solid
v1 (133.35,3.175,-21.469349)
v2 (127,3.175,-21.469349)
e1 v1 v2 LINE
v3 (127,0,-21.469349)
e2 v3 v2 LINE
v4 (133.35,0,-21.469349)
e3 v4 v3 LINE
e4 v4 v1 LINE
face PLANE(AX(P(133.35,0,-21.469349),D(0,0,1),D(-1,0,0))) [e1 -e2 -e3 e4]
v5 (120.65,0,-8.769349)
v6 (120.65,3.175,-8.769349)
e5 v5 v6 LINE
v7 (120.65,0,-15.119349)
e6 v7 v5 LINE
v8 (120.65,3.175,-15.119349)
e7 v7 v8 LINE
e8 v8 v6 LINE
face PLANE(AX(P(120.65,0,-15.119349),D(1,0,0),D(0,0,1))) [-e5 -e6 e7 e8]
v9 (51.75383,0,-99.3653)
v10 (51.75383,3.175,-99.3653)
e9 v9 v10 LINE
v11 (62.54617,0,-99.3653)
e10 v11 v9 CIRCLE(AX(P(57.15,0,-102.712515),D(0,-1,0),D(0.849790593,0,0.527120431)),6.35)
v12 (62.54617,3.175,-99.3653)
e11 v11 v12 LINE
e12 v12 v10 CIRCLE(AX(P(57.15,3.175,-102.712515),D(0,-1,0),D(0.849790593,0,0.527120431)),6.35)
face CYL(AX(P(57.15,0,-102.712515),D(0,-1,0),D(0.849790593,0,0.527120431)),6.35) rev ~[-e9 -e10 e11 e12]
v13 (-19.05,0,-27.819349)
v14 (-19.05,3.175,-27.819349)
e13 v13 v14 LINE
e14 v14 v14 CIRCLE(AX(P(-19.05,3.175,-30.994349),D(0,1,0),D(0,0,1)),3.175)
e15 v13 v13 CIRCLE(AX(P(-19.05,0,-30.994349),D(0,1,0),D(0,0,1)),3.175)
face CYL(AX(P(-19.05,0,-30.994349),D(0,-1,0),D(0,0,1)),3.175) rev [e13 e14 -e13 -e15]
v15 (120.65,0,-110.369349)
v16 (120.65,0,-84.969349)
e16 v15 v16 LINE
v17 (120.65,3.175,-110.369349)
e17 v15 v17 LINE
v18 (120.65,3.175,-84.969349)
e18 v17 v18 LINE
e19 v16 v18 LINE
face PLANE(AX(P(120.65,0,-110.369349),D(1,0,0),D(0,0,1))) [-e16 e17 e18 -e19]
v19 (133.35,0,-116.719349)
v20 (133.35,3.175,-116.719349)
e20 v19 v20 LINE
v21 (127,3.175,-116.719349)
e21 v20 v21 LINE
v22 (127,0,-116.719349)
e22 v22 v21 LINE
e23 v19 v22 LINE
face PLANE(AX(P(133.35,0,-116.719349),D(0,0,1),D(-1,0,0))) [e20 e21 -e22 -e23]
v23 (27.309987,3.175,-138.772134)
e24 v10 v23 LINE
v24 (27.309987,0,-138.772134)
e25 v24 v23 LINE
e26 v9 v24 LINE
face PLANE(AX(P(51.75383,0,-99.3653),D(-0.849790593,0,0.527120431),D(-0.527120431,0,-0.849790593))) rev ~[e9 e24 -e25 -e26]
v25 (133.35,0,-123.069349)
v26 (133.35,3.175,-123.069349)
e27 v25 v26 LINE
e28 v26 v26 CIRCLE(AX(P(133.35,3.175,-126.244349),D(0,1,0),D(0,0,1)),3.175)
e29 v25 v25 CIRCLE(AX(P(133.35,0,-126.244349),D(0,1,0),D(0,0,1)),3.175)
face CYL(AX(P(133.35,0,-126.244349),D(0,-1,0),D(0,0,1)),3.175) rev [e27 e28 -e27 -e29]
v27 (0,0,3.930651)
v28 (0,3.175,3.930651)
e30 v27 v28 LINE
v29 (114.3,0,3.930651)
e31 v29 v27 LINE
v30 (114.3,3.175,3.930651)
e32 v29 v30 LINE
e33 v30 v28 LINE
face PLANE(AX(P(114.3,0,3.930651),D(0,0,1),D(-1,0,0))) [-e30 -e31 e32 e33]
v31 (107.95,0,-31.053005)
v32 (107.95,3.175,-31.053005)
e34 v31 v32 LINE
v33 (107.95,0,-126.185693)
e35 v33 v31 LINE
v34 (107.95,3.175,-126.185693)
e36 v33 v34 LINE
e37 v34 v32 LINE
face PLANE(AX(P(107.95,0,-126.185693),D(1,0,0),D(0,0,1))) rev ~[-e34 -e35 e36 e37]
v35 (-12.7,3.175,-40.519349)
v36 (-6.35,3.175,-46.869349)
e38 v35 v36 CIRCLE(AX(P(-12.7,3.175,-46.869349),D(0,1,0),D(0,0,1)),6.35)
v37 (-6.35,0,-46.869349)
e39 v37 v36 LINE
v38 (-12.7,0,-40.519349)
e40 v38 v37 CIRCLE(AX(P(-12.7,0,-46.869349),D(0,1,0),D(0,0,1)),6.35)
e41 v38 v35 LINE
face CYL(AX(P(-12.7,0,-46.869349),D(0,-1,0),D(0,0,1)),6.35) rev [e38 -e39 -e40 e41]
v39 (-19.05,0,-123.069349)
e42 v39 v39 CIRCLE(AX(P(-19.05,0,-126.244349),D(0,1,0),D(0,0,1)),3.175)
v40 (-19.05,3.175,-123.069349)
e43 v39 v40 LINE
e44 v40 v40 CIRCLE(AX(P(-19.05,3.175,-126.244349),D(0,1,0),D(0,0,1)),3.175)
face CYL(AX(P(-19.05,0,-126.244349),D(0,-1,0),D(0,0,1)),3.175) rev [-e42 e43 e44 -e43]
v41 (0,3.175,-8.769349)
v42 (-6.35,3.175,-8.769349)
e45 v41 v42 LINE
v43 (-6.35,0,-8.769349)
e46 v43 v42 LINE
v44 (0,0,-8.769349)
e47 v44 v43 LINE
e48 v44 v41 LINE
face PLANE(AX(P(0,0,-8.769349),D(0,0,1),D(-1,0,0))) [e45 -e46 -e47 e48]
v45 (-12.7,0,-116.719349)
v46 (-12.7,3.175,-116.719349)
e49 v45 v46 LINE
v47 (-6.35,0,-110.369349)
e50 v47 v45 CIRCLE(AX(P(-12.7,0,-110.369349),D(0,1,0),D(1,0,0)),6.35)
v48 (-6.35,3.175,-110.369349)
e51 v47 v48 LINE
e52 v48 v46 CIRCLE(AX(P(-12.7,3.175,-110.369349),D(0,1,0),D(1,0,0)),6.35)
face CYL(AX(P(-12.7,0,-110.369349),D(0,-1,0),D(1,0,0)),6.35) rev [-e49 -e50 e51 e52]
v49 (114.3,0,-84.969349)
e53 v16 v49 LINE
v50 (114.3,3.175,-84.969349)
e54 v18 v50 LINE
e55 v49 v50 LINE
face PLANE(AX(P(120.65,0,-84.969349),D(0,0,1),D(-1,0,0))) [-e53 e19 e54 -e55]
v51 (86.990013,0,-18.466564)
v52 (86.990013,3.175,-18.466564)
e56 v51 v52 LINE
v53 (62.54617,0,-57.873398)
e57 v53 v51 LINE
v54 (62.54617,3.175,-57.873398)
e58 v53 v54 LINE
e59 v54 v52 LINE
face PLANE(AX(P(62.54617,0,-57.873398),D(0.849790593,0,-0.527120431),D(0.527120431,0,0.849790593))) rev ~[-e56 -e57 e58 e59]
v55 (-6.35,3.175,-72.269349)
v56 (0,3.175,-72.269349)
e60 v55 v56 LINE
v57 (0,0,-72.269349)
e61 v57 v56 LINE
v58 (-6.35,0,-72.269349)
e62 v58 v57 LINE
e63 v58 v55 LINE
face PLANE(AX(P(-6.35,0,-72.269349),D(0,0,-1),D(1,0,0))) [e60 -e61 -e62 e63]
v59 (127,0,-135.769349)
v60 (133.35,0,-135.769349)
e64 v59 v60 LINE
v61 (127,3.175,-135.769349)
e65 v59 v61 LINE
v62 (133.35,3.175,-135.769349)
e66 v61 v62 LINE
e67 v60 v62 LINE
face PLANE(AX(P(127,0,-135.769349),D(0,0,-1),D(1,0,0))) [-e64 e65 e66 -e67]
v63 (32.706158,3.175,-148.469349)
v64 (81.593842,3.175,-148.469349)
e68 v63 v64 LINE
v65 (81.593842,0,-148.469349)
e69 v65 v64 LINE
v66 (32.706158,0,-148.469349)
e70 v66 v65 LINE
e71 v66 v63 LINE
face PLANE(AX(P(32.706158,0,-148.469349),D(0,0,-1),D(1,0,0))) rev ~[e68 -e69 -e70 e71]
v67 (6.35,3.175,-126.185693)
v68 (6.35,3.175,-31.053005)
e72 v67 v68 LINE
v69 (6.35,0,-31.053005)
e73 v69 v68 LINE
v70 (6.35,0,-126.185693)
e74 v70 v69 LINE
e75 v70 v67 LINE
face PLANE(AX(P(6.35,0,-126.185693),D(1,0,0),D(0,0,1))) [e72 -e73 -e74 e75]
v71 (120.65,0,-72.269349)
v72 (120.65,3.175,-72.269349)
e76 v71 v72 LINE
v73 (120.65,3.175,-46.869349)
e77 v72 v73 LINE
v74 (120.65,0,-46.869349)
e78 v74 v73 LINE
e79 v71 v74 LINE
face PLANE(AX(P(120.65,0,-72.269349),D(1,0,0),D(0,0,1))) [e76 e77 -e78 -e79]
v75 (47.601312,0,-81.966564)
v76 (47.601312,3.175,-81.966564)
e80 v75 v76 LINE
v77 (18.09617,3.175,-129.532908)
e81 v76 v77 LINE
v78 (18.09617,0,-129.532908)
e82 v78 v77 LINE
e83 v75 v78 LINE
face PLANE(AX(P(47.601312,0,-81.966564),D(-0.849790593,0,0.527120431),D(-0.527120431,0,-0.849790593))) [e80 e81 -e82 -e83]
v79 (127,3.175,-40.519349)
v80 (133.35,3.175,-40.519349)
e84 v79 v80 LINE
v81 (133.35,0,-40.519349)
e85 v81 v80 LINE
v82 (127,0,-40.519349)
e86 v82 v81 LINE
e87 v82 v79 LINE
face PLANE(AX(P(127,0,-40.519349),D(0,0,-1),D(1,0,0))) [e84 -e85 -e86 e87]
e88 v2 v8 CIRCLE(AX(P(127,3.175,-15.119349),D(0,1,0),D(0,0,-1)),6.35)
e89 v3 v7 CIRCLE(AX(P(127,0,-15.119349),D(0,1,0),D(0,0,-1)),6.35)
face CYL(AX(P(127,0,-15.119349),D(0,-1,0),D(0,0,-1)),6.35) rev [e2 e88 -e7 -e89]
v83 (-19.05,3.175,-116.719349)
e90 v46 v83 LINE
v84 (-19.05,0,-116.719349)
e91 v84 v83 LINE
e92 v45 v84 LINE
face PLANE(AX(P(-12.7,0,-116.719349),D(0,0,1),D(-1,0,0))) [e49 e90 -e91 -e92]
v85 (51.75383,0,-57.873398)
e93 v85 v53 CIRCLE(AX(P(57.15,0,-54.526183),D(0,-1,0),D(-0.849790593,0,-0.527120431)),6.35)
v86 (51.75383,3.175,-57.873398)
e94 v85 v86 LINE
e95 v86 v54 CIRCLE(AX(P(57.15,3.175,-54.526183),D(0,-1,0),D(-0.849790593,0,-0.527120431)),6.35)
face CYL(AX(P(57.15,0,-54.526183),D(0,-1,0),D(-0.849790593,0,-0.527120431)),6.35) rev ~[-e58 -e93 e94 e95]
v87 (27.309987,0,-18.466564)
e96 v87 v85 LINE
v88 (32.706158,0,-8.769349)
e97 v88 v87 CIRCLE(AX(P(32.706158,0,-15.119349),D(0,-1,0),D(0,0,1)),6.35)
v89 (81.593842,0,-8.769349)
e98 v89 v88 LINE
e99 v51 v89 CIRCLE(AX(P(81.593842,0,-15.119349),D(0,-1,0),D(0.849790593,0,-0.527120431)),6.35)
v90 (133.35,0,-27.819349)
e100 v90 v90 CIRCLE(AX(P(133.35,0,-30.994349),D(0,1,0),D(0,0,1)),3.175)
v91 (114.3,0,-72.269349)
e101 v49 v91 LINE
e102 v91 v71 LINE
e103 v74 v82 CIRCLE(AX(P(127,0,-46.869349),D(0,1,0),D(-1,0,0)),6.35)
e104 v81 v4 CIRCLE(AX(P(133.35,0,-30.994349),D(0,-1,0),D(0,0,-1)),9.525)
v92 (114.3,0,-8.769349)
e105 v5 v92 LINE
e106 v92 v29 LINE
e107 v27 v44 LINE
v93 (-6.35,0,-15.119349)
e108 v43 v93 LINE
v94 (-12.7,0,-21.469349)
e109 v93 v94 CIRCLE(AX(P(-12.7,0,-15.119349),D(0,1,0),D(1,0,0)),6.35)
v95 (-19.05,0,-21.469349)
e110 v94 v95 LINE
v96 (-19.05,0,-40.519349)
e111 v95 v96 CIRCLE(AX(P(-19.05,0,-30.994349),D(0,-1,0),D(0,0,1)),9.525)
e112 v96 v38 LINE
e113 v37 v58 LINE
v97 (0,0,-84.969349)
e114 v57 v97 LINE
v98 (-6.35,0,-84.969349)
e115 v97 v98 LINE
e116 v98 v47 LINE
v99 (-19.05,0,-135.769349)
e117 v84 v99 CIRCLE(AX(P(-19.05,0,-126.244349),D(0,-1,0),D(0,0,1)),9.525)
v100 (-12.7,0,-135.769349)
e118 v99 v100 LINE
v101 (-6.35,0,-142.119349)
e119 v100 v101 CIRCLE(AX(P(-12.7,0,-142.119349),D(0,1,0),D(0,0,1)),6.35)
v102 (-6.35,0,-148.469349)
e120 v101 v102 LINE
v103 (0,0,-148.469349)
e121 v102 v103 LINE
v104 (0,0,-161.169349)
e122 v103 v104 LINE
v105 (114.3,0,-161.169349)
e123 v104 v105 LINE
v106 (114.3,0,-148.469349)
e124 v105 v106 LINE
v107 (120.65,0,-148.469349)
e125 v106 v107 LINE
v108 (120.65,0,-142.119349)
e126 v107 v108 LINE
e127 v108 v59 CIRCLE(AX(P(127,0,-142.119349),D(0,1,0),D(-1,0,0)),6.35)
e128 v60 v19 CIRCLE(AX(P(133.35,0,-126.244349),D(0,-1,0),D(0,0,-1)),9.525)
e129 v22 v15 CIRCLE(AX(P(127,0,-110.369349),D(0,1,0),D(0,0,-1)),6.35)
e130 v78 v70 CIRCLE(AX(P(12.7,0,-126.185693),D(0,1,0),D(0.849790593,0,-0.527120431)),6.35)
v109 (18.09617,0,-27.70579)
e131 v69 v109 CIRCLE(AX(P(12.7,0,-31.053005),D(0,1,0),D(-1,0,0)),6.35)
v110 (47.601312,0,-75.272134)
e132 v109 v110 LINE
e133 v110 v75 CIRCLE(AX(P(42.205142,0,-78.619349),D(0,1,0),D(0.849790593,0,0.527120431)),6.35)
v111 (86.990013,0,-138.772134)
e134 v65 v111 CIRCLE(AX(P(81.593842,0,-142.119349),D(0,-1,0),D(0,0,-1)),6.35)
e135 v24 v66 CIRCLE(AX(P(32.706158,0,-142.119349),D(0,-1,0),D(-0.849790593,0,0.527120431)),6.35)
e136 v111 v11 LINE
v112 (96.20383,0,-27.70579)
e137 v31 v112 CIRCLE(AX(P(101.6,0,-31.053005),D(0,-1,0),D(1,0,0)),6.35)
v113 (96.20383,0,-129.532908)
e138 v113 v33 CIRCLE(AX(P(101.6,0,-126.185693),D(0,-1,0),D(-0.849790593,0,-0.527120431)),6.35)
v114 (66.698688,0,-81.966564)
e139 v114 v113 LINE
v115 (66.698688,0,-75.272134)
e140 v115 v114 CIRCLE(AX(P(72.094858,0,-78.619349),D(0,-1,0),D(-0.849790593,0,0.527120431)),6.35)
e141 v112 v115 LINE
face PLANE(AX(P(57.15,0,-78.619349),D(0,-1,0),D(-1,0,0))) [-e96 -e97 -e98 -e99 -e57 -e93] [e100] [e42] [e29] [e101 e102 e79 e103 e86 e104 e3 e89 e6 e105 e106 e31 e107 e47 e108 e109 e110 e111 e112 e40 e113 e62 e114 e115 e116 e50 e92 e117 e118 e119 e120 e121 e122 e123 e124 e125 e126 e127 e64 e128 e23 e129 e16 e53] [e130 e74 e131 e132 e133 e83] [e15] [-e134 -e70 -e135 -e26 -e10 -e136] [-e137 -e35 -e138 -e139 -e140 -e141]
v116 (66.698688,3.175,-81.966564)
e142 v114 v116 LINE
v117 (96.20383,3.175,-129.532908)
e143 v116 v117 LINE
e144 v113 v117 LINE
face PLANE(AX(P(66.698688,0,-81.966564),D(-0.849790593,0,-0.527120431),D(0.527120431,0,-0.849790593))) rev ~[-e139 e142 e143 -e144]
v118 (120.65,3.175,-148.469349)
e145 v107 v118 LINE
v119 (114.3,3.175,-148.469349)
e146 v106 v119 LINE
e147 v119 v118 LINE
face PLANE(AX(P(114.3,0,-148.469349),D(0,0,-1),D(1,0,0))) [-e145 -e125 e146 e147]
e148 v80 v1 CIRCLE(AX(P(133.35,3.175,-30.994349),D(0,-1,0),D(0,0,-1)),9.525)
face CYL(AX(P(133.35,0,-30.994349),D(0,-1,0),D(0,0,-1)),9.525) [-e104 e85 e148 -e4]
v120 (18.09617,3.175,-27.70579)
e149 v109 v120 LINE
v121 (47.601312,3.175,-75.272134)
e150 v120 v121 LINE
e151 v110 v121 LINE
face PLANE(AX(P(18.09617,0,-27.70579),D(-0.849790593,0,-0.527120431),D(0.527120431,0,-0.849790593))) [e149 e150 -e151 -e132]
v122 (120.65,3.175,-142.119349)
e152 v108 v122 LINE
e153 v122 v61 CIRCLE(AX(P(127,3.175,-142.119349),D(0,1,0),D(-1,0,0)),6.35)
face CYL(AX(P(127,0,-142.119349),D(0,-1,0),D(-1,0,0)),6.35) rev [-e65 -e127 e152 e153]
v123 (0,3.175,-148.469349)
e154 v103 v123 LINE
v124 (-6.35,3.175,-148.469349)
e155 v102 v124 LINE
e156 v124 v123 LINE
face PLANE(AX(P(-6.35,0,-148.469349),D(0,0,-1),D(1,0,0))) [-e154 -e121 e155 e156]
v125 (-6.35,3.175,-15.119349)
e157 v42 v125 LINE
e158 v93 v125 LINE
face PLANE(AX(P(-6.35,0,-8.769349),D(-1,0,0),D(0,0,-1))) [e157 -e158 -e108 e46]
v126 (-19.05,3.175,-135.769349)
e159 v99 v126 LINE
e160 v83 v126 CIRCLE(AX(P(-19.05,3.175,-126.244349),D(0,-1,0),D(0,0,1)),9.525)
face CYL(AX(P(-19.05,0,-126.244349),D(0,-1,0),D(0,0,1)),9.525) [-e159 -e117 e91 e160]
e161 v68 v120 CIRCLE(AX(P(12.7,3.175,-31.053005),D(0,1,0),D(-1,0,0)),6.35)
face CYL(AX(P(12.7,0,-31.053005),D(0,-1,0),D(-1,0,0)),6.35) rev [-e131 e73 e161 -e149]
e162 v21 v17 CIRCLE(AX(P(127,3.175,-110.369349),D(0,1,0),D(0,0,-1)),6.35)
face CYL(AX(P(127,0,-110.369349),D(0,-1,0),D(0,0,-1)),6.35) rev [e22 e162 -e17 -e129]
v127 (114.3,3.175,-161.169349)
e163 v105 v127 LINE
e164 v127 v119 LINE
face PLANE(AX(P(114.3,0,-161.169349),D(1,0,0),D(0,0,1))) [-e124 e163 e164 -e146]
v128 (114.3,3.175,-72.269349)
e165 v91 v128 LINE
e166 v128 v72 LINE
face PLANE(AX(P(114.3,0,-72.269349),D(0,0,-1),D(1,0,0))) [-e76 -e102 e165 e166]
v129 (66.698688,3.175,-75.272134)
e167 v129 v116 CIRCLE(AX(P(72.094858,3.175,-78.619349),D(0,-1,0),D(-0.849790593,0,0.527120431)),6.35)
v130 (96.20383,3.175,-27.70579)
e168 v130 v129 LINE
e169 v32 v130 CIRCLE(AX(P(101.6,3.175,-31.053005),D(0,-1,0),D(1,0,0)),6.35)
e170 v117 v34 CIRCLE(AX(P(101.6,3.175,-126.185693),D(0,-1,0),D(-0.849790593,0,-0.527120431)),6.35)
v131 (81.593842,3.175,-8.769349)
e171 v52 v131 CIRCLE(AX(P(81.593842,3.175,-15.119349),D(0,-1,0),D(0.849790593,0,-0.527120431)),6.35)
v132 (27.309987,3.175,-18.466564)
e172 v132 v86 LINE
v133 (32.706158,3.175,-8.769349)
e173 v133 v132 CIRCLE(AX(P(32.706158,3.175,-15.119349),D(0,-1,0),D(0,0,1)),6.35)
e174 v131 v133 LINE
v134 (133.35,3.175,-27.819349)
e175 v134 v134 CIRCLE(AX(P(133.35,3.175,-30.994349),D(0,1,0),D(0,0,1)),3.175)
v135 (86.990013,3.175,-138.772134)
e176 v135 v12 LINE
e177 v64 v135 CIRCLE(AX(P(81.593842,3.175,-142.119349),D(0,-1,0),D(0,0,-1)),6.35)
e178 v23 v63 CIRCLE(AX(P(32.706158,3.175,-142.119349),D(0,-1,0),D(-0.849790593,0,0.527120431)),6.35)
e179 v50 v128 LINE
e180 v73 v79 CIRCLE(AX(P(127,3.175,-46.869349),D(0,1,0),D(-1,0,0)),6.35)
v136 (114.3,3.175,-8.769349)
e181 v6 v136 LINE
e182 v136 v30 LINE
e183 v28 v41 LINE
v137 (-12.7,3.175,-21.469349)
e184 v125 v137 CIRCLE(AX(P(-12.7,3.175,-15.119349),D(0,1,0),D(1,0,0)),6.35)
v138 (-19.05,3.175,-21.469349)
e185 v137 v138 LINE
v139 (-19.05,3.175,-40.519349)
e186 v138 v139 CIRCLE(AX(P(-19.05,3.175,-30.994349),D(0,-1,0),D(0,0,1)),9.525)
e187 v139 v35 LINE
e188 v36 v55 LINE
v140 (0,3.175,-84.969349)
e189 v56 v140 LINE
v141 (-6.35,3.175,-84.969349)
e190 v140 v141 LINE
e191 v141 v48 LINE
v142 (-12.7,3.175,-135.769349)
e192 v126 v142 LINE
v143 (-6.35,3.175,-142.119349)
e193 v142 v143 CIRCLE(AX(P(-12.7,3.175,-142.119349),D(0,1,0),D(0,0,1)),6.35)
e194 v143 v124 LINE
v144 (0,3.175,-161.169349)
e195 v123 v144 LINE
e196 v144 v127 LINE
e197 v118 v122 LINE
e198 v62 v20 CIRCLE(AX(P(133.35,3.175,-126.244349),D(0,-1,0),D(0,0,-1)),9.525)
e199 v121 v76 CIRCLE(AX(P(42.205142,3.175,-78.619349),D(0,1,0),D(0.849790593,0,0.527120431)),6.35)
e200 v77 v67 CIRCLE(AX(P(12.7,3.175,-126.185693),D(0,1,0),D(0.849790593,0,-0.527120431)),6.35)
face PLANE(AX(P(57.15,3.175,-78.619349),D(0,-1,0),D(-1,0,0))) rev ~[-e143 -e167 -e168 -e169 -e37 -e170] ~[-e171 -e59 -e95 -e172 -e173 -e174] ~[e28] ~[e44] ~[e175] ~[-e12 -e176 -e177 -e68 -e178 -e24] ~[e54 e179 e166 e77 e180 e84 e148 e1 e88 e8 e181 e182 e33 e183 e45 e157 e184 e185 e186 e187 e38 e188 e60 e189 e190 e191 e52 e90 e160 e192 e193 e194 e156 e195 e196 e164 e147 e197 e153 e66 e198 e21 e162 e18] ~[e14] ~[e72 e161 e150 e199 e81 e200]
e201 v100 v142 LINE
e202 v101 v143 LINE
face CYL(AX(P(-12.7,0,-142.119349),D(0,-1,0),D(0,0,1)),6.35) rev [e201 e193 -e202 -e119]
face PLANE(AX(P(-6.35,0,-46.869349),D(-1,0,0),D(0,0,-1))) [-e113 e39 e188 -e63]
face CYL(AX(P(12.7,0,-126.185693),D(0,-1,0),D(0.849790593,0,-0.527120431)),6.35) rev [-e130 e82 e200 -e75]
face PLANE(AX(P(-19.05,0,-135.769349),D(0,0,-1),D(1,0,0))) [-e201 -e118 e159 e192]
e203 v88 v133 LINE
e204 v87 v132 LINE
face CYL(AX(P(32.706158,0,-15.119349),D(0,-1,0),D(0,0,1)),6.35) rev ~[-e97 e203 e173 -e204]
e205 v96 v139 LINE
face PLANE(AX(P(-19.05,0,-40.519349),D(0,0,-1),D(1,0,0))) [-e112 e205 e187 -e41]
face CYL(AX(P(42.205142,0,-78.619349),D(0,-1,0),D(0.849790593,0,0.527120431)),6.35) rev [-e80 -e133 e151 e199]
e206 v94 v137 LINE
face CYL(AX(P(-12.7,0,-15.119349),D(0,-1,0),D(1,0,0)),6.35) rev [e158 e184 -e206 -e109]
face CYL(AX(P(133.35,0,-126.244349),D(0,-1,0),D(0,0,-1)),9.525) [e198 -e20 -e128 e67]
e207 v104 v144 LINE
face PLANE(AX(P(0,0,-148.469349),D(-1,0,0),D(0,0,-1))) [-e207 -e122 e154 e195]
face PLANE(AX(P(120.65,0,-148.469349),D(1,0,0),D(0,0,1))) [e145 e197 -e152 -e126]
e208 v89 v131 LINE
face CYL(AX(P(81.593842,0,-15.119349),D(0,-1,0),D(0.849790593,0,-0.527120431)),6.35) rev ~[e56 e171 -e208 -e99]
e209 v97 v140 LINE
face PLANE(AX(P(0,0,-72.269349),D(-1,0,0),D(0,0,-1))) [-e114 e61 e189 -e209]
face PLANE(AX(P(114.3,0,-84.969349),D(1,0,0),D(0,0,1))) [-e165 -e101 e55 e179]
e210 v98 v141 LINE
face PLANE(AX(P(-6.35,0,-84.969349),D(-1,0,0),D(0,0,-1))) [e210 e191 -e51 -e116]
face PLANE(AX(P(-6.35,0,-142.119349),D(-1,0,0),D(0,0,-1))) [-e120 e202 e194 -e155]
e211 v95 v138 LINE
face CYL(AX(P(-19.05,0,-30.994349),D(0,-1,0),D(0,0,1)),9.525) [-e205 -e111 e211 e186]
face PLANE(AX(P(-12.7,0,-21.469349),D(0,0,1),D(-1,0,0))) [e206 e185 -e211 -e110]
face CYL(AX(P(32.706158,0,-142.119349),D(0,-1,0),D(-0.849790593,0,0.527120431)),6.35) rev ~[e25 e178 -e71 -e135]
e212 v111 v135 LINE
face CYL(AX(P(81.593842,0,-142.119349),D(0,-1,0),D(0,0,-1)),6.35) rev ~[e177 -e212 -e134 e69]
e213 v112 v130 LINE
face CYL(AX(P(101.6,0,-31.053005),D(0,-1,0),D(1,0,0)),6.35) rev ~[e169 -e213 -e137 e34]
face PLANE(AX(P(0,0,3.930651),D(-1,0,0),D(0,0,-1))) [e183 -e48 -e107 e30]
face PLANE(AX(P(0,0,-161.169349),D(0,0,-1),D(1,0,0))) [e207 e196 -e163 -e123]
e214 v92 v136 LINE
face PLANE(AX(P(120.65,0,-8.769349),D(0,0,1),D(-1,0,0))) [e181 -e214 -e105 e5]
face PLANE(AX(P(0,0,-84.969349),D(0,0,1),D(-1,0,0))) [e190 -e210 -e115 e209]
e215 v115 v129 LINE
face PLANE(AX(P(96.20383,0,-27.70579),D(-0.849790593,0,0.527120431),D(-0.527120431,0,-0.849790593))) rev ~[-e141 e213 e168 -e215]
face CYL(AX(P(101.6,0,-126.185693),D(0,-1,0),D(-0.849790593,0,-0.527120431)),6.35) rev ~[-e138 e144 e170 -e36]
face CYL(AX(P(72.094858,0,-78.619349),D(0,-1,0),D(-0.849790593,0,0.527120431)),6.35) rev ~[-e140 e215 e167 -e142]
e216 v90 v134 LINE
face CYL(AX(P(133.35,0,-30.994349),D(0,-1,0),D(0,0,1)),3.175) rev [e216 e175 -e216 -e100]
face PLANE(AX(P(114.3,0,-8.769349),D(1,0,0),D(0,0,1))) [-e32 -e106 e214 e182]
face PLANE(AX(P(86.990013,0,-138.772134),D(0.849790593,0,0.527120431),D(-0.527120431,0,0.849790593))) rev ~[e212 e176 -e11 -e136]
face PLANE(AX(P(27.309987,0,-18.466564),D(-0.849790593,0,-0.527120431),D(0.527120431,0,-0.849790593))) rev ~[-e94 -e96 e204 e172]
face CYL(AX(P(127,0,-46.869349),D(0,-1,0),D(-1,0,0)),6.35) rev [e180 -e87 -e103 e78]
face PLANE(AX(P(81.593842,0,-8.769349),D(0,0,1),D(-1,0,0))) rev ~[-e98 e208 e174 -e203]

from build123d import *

# Parameters (mm, degrees)
SKETCH1_R           = 3.175
BOSS_EXTRUDE1_DEPTH = 3.175


with BuildPart() as part:
    # Sketch1 → Boss-Extrude1 (new body)
    with BuildSketch(Plane(origin=(0, 0, 0), x_dir=(1, 0, 0), z_dir=(0, 1, 0))):
        with BuildLine():
            Line((0, 161.169349013), (114.3, 161.169349013))
            Line((114.3, 161.169349013), (114.3, 148.469349013))
            Line((114.3, 148.469349013), (120.65, 148.469349013))
            Line((120.65, 148.469349013), (120.65, 142.119349013))
            ThreePointArc((120.65, 142.119349013), (122.509871939, 137.629220953), (127, 135.769349013))
            Line((127, 135.769349013), (133.35, 135.769349013))
            ThreePointArc((133.35, 135.769349013), (142.875, 126.244349013), (133.35, 116.719349013))
            Line((133.35, 116.719349013), (127, 116.719349013))
            ThreePointArc((127, 116.719349013), (122.509871939, 114.859477074), (120.65, 110.369349013))
            Line((120.65, 110.369349013), (120.65, 84.969349013))
            Line((120.65, 84.969349013), (114.3, 84.969349013))
            Line((114.3, 84.969349013), (114.3, 72.269349013))
            Line((114.3, 72.269349013), (120.65, 72.269349013))
            Line((120.65, 72.269349013), (120.65, 46.869349013))
            ThreePointArc((120.65, 46.869349013), (122.509871939, 42.379220953), (127, 40.519349013))
            Line((127, 40.519349013), (133.35, 40.519349013))
            ThreePointArc((133.35, 40.519349013), (142.875, 30.994349013), (133.35, 21.469349013))
            Line((133.35, 21.469349013), (127, 21.469349013))
            ThreePointArc((127, 21.469349013), (122.509871939, 19.609477074), (120.65, 15.119349013))
            Line((120.65, 15.119349013), (120.65, 8.769349013))
            Line((120.65, 8.769349013), (114.3, 8.769349013))
            Line((114.3, 8.769349013), (114.3, -3.930650987))
            Line((114.3, -3.930650987), (0, -3.930650987))
            Line((0, -3.930650987), (0, 8.769349013))
            Line((0, 8.769349013), (-6.35, 8.769349013))
            Line((-6.35, 8.769349013), (-6.35, 15.119349013))
            ThreePointArc((-6.35, 15.119349013), (-8.209871939, 19.609477074), (-12.7, 21.469349013))
            Line((-12.7, 21.469349013), (-19.05, 21.469349013))
            ThreePointArc((-19.05, 21.469349013), (-28.575, 30.994349013), (-19.05, 40.519349013))
            Line((-19.05, 40.519349013), (-12.7, 40.519349013))
            ThreePointArc((-12.7, 40.519349013), (-8.209871939, 42.379220953), (-6.35, 46.869349013))
            Line((-6.35, 46.869349013), (-6.35, 72.269349013))
            Line((-6.35, 72.269349013), (0, 72.269349013))
            Line((0, 72.269349013), (0, 84.969349013))
            Line((0, 84.969349013), (-6.35, 84.969349013))
            Line((-6.35, 84.969349013), (-6.35, 110.369349013))
            ThreePointArc((-6.35, 110.369349013), (-8.209871939, 114.859477074), (-12.7, 116.719349013))
            Line((-12.7, 116.719349013), (-19.05, 116.719349013))
            ThreePointArc((-19.05, 116.719349013), (-28.575, 126.244349013), (-19.05, 135.769349013))
            Line((-19.05, 135.769349013), (-12.7, 135.769349013))
            ThreePointArc((-12.7, 135.769349013), (-8.209871939, 137.629220953), (-6.35, 142.119349013))
            Line((-6.35, 142.119349013), (-6.35, 148.469349013))
            Line((-6.35, 148.469349013), (0, 148.469349013))
            Line((0, 148.469349013), (0, 161.169349013))
        make_face()
        with Locations(Location((-19.05, 126.244349013, 0), (0, 0, 270))):
            Circle(SKETCH1_R, mode=Mode.SUBTRACT)
        with Locations(Location((-19.05, 30.994349013, 0), (0, 0, 270))):
            Circle(SKETCH1_R, mode=Mode.SUBTRACT)
        with Locations(Location((133.35, 30.994349013, 0), (0, 0, 270))):
            Circle(SKETCH1_R, mode=Mode.SUBTRACT)
        with Locations(Location((133.35, 126.244349013, 0), (0, 0, 270))):
            Circle(SKETCH1_R, mode=Mode.SUBTRACT)
        with BuildLine():
            Line((107.95, 126.185693187), (107.95, 31.05300484))
            ThreePointArc((107.95, 31.05300484), (103.340232575, 24.946116059), (96.203829737, 27.705790103))
            Line((96.203829737, 27.705790103), (66.698688048, 75.272134277))
            ThreePointArc((66.698688048, 75.272134277), (65.744858311, 78.619349013), (66.698688048, 81.96656375))
            Line((66.698688048, 81.96656375), (96.203829737, 129.532907923))
            ThreePointArc((96.203829737, 129.532907923), (103.340232575, 132.292581968), (107.95, 126.185693187))
        make_face(mode=Mode.SUBTRACT)
        with BuildLine():
            Line((81.593842457, 8.769349013), (32.706157543, 8.769349013))
            ThreePointArc((32.706157543, 8.769349013), (27.157404819, 12.031656799), (27.30998728, 18.46656375))
            Line((27.30998728, 18.46656375), (51.753829737, 57.873397836))
            ThreePointArc((51.753829737, 57.873397836), (57.15, 60.876183099), (62.546170263, 57.873397836))
            Line((62.546170263, 57.873397836), (86.99001272, 18.46656375))
            ThreePointArc((86.99001272, 18.46656375), (87.142595181, 12.031656799), (81.593842457, 8.769349013))
        make_face(mode=Mode.SUBTRACT)
        with BuildLine():
            Line((6.35, 126.185693187), (6.35, 31.05300484))
            ThreePointArc((6.35, 31.05300484), (10.959767425, 24.946116059), (18.096170263, 27.705790103))
            Line((18.096170263, 27.705790103), (47.601311952, 75.272134277))
            ThreePointArc((47.601311952, 75.272134277), (48.555141689, 78.619349013), (47.601311952, 81.96656375))
            Line((47.601311952, 81.96656375), (18.096170263, 129.532907923))
            ThreePointArc((18.096170263, 129.532907923), (10.959767425, 132.292581968), (6.35, 126.185693187))
        make_face(mode=Mode.SUBTRACT)
        with BuildLine():
            Line((86.99001272, 138.772134277), (62.546170263, 99.36530019))
            ThreePointArc((62.546170263, 99.36530019), (57.15, 96.362514927), (51.753829737, 99.36530019))
            Line((51.753829737, 99.36530019), (27.30998728, 138.772134277))
            ThreePointArc((27.30998728, 138.772134277), (27.157404819, 145.207041228), (32.706157543, 148.469349013))
            Line((32.706157543, 148.469349013), (81.593842457, 148.469349013))
            ThreePointArc((81.593842457, 148.469349013), (87.142595181, 145.207041228), (86.99001272, 138.772134277))
        make_face(mode=Mode.SUBTRACT)
    extrude(amount=BOSS_EXTRUDE1_DEPTH)


solid = part.part
